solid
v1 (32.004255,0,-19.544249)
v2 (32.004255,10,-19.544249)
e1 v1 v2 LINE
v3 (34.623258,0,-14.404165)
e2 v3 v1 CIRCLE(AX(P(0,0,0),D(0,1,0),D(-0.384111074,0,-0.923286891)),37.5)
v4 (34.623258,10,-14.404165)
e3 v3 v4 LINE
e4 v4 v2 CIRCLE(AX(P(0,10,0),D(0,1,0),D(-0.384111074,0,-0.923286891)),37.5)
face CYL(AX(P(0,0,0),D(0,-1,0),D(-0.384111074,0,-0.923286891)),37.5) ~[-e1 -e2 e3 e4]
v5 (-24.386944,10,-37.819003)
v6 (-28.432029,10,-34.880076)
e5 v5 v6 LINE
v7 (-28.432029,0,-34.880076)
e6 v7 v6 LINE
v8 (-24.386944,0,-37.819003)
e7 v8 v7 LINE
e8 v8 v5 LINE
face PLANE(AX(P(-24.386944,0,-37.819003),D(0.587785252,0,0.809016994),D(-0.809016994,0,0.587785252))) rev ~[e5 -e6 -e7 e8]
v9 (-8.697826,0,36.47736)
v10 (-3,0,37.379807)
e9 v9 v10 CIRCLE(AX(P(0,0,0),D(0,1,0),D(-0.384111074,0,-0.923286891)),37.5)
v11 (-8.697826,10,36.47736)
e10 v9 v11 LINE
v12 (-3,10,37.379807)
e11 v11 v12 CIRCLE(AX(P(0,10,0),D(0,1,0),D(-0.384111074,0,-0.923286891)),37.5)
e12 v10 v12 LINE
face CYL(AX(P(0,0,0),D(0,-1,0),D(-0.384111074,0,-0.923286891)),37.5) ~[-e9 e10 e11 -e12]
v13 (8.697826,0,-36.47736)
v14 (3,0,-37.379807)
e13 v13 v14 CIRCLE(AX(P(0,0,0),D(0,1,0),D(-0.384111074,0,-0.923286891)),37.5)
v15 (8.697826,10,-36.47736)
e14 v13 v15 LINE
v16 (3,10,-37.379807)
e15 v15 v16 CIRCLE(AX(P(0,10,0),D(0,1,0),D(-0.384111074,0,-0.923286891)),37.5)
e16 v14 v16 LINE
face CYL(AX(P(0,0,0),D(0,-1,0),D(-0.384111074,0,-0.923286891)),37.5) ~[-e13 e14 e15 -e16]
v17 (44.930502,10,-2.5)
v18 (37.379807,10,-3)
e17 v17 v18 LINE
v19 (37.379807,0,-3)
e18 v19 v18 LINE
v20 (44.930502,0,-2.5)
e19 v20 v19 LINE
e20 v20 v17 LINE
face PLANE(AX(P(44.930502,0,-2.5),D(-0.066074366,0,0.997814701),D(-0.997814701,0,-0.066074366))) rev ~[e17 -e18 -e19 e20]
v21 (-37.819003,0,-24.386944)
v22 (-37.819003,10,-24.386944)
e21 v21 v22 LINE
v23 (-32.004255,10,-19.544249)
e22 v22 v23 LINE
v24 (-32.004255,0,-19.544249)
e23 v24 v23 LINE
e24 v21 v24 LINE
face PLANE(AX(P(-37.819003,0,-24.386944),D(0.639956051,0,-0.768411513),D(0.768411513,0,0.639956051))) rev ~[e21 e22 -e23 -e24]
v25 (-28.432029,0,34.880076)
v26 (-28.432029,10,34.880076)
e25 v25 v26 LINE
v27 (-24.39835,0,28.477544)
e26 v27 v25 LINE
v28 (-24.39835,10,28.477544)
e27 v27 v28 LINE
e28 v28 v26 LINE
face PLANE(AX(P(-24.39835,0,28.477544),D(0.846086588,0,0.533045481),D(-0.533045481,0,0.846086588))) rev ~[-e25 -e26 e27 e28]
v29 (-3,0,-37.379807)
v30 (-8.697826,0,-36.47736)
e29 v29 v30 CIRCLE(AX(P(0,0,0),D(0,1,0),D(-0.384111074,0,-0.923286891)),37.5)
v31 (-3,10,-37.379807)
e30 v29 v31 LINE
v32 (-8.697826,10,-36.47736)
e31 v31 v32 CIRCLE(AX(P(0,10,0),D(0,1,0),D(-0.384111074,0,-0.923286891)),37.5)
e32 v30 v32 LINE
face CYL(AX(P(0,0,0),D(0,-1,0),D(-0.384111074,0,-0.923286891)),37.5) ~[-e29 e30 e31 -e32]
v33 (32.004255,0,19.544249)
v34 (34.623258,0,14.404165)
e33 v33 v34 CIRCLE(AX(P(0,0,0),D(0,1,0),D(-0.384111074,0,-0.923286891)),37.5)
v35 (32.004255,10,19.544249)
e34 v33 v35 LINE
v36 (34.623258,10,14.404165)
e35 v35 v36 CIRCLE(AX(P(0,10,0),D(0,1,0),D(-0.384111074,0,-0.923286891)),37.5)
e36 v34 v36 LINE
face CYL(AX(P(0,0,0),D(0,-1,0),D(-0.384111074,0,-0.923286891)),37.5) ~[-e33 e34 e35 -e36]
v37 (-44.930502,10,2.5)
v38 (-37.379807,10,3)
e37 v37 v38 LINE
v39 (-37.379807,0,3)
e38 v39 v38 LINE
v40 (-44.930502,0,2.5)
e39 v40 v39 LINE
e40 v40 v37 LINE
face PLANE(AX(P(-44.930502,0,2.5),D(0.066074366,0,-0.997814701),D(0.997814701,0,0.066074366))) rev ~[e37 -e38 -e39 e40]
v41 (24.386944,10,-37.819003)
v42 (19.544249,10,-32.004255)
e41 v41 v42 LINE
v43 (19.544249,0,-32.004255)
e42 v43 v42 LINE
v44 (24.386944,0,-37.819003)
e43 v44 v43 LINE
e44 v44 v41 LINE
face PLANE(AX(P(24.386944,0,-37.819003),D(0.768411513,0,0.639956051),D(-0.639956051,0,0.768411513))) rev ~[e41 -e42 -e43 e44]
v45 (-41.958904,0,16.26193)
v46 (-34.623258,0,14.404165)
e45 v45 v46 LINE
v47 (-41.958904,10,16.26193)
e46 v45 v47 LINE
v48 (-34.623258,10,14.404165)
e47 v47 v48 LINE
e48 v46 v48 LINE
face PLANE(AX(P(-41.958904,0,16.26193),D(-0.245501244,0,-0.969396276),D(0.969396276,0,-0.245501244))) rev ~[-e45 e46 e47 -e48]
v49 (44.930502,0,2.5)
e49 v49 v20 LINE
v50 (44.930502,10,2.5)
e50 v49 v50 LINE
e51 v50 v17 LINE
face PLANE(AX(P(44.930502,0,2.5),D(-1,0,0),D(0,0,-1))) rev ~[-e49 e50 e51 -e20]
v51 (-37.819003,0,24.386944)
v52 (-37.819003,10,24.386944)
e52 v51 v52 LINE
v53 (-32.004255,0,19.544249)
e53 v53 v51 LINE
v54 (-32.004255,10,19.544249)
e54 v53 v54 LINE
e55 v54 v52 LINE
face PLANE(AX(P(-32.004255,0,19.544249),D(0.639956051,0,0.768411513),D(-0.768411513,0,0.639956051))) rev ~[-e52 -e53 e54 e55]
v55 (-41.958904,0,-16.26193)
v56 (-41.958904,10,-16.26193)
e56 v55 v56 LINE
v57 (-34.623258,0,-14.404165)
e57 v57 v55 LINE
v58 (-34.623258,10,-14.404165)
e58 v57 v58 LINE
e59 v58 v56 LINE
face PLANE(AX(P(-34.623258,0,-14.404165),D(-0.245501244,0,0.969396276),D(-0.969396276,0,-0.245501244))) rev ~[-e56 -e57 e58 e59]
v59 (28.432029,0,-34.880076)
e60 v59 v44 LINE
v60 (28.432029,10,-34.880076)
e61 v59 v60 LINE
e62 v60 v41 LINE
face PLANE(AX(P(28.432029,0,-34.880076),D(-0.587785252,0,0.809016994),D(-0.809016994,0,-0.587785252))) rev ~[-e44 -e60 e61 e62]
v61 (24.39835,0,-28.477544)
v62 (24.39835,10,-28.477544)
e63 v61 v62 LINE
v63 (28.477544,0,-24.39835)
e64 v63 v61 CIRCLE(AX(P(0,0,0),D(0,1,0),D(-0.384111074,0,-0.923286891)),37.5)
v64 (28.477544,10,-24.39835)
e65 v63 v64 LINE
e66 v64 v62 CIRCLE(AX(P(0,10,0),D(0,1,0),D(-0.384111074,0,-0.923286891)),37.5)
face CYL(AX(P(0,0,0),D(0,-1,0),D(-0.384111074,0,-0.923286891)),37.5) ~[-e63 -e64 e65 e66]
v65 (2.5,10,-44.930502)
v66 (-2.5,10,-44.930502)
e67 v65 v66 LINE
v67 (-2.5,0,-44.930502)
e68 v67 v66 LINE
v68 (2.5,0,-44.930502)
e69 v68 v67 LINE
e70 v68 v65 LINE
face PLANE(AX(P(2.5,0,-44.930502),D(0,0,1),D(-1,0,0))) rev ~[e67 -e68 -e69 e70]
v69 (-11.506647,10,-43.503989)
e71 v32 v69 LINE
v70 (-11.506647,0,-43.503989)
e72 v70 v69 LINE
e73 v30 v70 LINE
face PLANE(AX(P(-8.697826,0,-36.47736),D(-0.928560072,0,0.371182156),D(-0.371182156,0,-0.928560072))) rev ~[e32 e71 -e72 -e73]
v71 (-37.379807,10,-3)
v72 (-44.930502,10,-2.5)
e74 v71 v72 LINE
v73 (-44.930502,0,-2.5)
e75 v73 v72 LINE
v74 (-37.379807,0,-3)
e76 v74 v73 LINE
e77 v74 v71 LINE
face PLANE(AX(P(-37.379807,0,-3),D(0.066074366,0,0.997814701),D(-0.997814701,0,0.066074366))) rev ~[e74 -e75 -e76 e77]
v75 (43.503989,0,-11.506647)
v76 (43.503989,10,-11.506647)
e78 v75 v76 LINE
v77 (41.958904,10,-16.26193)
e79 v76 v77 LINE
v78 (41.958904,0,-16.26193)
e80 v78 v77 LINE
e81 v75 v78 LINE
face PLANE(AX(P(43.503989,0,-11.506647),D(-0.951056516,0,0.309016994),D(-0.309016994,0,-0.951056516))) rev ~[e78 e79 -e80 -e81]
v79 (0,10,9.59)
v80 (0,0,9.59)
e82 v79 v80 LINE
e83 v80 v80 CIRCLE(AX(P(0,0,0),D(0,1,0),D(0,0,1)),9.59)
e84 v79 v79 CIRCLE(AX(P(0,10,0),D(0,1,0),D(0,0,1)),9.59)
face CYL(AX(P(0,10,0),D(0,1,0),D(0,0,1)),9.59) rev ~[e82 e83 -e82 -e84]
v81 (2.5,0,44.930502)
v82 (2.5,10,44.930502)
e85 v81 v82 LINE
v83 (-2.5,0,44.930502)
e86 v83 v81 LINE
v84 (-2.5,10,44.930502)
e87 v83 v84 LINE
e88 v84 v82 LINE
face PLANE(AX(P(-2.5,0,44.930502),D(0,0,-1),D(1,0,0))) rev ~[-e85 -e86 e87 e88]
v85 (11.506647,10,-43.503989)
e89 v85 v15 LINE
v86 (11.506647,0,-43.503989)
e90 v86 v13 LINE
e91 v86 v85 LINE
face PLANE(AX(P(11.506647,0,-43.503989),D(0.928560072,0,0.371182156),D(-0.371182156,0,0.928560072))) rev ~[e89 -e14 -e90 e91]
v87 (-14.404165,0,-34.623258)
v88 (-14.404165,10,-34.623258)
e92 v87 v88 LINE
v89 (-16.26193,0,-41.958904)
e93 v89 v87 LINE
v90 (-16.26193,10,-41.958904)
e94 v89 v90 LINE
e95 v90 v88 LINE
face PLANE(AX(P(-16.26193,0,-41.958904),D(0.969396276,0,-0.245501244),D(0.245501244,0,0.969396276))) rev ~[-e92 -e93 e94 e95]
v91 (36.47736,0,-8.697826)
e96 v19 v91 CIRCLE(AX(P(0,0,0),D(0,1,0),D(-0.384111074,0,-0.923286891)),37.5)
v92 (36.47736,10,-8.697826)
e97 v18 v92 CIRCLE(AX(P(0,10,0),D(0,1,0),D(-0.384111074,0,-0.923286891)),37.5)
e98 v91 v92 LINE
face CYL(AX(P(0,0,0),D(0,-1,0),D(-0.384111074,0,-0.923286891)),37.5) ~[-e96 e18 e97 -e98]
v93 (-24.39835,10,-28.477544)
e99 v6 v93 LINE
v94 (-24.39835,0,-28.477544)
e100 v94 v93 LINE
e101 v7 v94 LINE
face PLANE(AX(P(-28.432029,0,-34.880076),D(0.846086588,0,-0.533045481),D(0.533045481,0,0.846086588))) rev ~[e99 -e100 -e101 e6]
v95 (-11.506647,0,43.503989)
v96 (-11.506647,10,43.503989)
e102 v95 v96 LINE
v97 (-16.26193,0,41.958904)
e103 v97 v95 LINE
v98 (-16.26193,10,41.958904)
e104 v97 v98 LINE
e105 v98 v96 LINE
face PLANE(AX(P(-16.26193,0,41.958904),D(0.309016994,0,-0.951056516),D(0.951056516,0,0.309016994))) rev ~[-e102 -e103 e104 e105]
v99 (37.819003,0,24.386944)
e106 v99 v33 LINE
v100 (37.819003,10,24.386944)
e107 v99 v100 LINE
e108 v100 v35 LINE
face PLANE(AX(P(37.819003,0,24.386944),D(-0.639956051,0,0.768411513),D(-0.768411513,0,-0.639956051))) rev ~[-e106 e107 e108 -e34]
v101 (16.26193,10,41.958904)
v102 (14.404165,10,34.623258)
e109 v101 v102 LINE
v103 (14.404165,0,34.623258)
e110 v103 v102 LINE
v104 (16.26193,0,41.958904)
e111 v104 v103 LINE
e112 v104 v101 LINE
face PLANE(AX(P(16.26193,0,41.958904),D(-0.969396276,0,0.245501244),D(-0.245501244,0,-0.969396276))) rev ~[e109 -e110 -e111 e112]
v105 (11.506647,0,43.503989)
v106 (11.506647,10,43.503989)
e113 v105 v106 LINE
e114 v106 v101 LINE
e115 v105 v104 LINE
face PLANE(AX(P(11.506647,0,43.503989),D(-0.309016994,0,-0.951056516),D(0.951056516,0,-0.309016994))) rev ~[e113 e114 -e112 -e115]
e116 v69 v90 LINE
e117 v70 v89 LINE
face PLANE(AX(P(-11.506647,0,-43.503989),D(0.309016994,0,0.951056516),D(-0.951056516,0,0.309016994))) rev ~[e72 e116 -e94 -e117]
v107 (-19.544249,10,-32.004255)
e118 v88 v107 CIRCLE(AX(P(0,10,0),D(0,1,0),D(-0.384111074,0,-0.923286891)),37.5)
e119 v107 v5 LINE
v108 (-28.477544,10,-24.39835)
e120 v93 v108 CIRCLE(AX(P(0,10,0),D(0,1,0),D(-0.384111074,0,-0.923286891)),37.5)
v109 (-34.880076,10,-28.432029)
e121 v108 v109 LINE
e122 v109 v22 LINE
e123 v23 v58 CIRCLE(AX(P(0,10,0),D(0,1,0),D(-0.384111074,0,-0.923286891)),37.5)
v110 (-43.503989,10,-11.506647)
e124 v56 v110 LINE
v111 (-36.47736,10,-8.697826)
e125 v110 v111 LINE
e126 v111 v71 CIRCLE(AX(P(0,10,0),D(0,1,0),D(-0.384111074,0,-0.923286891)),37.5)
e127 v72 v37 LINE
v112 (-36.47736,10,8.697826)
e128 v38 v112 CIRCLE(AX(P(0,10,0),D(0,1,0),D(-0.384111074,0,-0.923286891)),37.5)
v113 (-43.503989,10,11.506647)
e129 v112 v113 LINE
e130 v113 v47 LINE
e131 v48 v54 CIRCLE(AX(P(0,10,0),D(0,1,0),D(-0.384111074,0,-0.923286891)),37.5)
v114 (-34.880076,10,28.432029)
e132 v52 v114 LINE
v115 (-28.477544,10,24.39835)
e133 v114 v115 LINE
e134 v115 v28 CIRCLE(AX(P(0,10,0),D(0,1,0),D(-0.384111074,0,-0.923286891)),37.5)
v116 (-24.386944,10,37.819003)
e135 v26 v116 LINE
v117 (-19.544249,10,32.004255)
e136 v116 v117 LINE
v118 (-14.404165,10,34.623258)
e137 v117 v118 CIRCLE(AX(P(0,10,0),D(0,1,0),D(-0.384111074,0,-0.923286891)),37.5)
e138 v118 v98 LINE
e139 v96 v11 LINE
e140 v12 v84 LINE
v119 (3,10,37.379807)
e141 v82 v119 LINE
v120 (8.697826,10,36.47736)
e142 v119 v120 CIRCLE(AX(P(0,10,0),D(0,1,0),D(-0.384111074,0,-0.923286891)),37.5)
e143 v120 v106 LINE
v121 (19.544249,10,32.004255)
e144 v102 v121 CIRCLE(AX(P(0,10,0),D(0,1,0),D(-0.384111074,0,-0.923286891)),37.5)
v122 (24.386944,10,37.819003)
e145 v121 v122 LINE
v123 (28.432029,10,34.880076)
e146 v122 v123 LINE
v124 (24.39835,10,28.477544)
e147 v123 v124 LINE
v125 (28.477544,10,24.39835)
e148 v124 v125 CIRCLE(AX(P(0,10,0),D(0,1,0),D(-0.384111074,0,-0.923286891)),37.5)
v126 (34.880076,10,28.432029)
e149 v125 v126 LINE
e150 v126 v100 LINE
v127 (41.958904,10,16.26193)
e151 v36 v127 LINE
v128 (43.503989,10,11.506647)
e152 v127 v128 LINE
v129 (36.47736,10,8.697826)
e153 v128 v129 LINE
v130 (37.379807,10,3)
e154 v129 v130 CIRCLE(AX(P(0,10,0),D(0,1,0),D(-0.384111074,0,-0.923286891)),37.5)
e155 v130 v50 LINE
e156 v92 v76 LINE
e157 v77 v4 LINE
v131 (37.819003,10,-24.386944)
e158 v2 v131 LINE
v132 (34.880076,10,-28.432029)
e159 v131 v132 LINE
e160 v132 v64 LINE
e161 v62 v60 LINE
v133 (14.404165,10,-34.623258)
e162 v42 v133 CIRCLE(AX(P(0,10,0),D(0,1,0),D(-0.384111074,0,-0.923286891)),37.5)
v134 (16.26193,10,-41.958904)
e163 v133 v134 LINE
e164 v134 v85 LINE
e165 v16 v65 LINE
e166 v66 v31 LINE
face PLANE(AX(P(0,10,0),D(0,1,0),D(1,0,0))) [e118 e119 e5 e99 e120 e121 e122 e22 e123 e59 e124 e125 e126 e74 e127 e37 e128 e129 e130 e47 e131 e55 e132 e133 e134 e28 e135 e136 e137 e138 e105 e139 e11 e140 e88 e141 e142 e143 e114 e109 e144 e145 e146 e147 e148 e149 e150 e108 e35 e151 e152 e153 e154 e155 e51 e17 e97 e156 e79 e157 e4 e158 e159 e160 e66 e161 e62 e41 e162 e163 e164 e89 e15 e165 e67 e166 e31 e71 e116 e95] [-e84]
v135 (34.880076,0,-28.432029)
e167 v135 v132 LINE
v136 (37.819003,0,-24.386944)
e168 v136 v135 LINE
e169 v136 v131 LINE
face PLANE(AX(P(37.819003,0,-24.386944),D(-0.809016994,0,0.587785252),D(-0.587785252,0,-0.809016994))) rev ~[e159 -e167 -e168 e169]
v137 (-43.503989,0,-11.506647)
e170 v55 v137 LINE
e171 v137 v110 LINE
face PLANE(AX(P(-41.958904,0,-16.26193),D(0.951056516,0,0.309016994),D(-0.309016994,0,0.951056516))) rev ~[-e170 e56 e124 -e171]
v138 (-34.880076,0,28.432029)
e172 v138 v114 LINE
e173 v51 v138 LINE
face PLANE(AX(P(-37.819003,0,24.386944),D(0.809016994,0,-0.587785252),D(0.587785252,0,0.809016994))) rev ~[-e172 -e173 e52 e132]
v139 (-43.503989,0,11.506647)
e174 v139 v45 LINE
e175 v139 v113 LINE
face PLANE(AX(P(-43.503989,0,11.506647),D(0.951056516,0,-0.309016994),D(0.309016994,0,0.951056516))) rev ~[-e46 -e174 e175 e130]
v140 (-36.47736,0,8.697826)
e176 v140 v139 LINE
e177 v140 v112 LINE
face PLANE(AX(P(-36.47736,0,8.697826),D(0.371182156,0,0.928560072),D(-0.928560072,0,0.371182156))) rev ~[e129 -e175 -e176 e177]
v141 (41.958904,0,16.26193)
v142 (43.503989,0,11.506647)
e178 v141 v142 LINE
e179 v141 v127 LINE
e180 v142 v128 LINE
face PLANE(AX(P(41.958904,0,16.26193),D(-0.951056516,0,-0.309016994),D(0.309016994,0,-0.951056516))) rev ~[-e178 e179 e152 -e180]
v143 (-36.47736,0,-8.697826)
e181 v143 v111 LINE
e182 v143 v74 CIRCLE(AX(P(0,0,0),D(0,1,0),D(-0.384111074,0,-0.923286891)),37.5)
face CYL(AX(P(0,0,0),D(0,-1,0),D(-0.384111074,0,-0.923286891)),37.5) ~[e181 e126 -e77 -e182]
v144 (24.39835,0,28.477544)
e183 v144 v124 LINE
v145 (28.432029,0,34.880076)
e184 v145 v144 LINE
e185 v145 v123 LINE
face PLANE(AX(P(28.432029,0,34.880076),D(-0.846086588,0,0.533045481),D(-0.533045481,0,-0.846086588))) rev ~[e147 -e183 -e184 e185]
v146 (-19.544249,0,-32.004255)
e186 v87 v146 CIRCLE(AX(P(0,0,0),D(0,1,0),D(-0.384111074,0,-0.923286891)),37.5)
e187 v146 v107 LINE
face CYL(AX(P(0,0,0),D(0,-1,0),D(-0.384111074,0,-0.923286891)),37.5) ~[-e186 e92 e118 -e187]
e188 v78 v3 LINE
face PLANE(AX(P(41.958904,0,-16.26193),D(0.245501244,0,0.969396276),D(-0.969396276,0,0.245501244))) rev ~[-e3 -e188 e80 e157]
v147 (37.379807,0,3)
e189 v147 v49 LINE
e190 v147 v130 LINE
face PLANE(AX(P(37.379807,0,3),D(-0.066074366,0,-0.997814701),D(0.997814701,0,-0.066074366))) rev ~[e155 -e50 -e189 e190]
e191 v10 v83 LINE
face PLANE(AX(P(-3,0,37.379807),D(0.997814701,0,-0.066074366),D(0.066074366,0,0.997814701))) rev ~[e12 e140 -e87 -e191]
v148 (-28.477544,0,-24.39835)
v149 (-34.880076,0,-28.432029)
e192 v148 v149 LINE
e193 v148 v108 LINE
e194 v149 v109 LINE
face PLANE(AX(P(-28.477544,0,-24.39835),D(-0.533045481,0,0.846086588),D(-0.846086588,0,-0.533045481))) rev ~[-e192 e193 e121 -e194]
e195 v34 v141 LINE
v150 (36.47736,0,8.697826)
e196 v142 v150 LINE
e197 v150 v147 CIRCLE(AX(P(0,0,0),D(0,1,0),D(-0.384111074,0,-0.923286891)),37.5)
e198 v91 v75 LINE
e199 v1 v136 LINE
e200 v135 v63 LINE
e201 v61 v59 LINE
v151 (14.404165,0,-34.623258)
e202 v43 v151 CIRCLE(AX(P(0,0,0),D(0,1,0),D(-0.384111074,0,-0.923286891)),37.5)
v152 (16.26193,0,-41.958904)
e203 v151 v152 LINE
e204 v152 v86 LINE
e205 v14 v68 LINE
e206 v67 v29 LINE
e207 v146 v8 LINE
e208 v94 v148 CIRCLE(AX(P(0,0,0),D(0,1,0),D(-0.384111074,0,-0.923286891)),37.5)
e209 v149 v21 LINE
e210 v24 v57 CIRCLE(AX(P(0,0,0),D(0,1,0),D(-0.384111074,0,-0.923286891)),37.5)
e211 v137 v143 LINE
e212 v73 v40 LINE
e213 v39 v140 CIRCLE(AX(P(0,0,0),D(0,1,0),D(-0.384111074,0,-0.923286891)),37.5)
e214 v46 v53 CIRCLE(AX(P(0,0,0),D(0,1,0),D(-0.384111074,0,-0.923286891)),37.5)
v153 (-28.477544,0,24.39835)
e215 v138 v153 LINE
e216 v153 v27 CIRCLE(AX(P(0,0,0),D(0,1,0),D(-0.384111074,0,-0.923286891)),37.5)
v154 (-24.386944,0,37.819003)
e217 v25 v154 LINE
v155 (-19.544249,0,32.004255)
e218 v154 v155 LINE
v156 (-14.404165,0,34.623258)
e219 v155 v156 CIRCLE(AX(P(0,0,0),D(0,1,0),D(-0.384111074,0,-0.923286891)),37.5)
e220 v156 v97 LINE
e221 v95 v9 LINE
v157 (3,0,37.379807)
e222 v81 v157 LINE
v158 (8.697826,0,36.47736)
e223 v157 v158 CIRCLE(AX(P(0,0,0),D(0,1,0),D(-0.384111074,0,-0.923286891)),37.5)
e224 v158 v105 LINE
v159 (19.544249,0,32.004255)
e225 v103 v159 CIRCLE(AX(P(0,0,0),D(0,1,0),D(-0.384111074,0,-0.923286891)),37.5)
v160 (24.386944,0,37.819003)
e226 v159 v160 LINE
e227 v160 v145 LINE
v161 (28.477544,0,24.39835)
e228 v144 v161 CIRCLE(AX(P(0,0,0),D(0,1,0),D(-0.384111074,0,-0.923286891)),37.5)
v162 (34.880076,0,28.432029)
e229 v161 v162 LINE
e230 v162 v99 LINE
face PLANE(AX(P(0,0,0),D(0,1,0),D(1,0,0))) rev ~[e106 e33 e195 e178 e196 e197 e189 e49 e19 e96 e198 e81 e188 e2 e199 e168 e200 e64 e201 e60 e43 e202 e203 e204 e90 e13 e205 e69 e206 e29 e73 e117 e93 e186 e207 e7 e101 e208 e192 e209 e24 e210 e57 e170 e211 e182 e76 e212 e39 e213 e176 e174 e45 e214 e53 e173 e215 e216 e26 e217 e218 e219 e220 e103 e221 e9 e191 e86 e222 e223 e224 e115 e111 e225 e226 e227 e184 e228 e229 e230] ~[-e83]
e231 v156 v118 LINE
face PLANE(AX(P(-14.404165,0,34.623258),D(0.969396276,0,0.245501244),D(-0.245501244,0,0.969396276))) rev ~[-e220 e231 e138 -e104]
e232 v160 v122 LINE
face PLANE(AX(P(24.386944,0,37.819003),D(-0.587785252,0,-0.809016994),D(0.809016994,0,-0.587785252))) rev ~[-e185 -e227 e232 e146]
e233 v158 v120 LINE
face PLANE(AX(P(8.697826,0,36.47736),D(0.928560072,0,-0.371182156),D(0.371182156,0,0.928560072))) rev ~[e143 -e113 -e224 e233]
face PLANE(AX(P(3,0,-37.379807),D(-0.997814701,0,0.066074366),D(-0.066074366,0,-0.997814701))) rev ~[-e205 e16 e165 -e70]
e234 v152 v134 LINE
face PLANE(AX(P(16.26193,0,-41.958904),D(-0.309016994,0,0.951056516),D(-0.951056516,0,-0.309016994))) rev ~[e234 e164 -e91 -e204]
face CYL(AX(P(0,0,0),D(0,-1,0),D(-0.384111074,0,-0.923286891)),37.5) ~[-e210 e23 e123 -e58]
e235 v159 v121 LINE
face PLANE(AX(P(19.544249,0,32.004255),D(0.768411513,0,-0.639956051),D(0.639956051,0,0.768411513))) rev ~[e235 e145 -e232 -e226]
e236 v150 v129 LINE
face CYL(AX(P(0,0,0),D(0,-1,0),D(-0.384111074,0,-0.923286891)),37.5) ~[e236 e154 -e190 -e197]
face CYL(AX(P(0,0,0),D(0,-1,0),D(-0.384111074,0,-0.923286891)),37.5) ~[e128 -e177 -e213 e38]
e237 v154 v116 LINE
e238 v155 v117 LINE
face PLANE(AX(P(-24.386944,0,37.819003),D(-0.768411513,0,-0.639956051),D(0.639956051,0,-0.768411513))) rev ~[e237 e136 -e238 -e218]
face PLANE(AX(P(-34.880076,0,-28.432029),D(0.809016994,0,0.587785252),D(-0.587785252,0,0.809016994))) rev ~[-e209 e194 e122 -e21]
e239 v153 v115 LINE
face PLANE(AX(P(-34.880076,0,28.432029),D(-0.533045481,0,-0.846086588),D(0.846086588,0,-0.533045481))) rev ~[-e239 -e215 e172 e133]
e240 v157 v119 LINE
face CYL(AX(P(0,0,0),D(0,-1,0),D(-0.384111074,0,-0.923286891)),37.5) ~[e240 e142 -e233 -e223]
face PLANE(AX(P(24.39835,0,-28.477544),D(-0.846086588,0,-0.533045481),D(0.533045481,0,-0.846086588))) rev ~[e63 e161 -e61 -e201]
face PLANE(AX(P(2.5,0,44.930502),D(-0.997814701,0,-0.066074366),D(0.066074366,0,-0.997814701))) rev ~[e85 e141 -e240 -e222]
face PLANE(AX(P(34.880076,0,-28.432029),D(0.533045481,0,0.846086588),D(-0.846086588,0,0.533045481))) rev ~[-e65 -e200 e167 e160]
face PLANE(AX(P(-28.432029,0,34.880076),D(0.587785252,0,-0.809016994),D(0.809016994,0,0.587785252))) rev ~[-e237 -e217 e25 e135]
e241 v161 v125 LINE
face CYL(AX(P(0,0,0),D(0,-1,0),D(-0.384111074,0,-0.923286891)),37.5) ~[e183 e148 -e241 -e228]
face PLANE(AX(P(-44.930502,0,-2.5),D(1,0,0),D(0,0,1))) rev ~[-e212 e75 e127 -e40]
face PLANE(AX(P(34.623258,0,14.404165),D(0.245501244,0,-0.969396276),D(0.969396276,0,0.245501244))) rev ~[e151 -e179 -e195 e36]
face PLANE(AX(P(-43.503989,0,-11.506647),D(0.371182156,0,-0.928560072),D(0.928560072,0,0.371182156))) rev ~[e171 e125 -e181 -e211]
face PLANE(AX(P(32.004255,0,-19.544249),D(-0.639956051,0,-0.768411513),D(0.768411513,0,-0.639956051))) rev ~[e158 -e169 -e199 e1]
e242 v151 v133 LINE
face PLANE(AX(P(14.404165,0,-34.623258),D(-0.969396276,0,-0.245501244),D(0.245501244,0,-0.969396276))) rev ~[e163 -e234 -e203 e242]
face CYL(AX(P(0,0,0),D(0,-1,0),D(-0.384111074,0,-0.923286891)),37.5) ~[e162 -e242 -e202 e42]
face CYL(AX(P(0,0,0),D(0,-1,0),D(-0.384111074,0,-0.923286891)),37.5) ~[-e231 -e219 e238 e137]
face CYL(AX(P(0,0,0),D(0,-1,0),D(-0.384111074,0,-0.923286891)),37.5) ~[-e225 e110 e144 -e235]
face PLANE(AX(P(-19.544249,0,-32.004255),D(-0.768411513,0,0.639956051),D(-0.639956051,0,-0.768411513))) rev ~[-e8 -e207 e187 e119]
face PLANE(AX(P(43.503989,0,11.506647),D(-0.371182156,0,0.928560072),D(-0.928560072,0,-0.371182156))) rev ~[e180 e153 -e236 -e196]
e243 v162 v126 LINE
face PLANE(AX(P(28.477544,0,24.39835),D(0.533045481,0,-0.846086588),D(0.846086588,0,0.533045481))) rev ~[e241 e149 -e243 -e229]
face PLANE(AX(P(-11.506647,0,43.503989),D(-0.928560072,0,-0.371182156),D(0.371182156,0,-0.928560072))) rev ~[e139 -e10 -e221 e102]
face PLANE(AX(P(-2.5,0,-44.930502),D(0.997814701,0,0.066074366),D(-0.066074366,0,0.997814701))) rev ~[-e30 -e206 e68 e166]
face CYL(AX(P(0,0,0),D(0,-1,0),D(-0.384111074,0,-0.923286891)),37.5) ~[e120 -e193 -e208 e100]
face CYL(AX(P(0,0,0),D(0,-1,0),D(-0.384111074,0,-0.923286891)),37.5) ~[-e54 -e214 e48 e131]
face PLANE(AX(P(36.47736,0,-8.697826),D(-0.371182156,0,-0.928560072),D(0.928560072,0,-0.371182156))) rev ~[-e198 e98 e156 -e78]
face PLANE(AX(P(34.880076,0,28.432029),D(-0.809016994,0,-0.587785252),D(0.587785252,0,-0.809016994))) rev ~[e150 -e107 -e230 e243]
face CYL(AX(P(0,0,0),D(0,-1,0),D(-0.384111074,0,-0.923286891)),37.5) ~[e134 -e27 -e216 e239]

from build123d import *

# Parameters (mm, degrees)
SKETCH1_R           = 37.5
BOSS_EXTRUDE1_DEPTH = 10
SKETCH2_R           = 9.59
CUT_EXTRUDE1_DEPTH  = 10


with BuildPart() as part:
    # Sketch1 → Boss-Extrude1 (new body)
    with BuildSketch(Plane(origin=(0, 0, 0), x_dir=(1, 0, 0), z_dir=(0, 1, 0))):
        Circle(SKETCH1_R)
        with BuildLine():
            ThreePointArc((-14.404165277, 34.623258406), (-11.588137289, 35.664619361), (-8.697826179, 36.477360373))
            Line((-8.697826179, 36.477360373), (-11.506647359, 43.503989088))
            Line((-11.506647359, 43.503989088), (-16.26192994, 41.958904116))
            Line((-16.26192994, 41.958904116), (-14.404165277, 34.623258406))
        make_face()
        with BuildLine():
            ThreePointArc((-24.398350496, 28.477543663), (-22.041946961, 30.338137289), (-19.54424853, 32.004255176))
            Line((-19.54424853, 32.004255176), (-24.386943903, 37.819002725))
            Line((-24.386943903, 37.819002725), (-28.432028874, 34.880076463))
            Line((-28.432028874, 34.880076463), (-24.398350496, 28.477543663))
        make_face()
        with BuildLine():
            ThreePointArc((-32.004255176, 19.54424853), (-30.338137289, 22.041946961), (-28.477543663, 24.398350496))
            Line((-28.477543663, 24.398350496), (-34.880076463, 28.432028874))
            Line((-34.880076463, 28.432028874), (-37.819002725, 24.386943903))
            Line((-37.819002725, 24.386943903), (-32.004255176, 19.54424853))
        make_face()
        with BuildLine():
            ThreePointArc((-36.477360373, 8.697826179), (-35.664619361, 11.588137289), (-34.623258406, 14.404165277))
            Line((-34.623258406, 14.404165277), (-41.958904116, 16.26192994))
            Line((-41.958904116, 16.26192994), (-43.503989088, 11.506647359))
            Line((-43.503989088, 11.506647359), (-36.477360373, 8.697826179))
        make_face()
        with BuildLine():
            ThreePointArc((-37.379807383, -3), (-37.5, 0), (-37.379807383, 3))
            Line((-37.379807383, 3), (-44.930501889, 2.5))
            Line((-44.930501889, 2.5), (-44.930501889, -2.5))
            Line((-44.930501889, -2.5), (-37.379807383, -3))
        make_face()
        with BuildLine():
            ThreePointArc((-34.623258406, -14.404165277), (-35.664619361, -11.588137289), (-36.477360373, -8.697826179))
            Line((-36.477360373, -8.697826179), (-43.503989088, -11.506647359))
            Line((-43.503989088, -11.506647359), (-41.958904116, -16.26192994))
            Line((-41.958904116, -16.26192994), (-34.623258406, -14.404165277))
        make_face()
        with BuildLine():
            ThreePointArc((-28.477543663, -24.398350496), (-30.338137289, -22.041946961), (-32.004255176, -19.54424853))
            Line((-32.004255176, -19.54424853), (-37.819002725, -24.386943903))
            Line((-37.819002725, -24.386943903), (-34.880076463, -28.432028874))
            Line((-34.880076463, -28.432028874), (-28.477543663, -24.398350496))
        make_face()
        with BuildLine():
            ThreePointArc((-19.54424853, -32.004255176), (-22.041946961, -30.338137289), (-24.398350496, -28.477543663))
            Line((-24.398350496, -28.477543663), (-28.432028874, -34.880076463))
            Line((-28.432028874, -34.880076463), (-24.386943903, -37.819002725))
            Line((-24.386943903, -37.819002725), (-19.54424853, -32.004255176))
        make_face()
        with BuildLine():
            ThreePointArc((-8.697826179, -36.477360373), (-11.588137289, -35.664619361), (-14.404165277, -34.623258406))
            Line((-14.404165277, -34.623258406), (-16.26192994, -41.958904116))
            Line((-16.26192994, -41.958904116), (-11.506647359, -43.503989088))
            Line((-11.506647359, -43.503989088), (-8.697826179, -36.477360373))
        make_face()
        with BuildLine():
            ThreePointArc((3, -37.379807383), (0, -37.5), (-3, -37.379807383))
            Line((-3, -37.379807383), (-2.5, -44.930501889))
            Line((-2.5, -44.930501889), (2.5, -44.930501889))
            Line((2.5, -44.930501889), (3, -37.379807383))
        make_face()
        with BuildLine():
            Line((11.506647359, -43.503989088), (16.26192994, -41.958904116))
            Line((16.26192994, -41.958904116), (14.404165277, -34.623258406))
            ThreePointArc((14.404165277, -34.623258406), (11.588137289, -35.664619361), (8.697826179, -36.477360373))
            Line((8.697826179, -36.477360373), (11.506647359, -43.503989088))
        make_face()
        with BuildLine():
            Line((24.386943903, -37.819002725), (28.432028874, -34.880076463))
            Line((28.432028874, -34.880076463), (24.398350496, -28.477543663))
            ThreePointArc((24.398350496, -28.477543663), (22.041946961, -30.338137289), (19.54424853, -32.004255176))
            Line((19.54424853, -32.004255176), (24.386943903, -37.819002725))
        make_face()
        with BuildLine():
            Line((34.880076463, -28.432028874), (37.819002725, -24.386943903))
            Line((37.819002725, -24.386943903), (32.004255176, -19.54424853))
            ThreePointArc((32.004255176, -19.54424853), (30.338137289, -22.041946961), (28.477543663, -24.398350496))
            Line((28.477543663, -24.398350496), (34.880076463, -28.432028874))
        make_face()
        with BuildLine():
            Line((41.958904116, -16.26192994), (43.503989088, -11.506647359))
            Line((43.503989088, -11.506647359), (36.477360373, -8.697826179))
            ThreePointArc((36.477360373, -8.697826179), (35.664619361, -11.588137289), (34.623258406, -14.404165277))
            Line((34.623258406, -14.404165277), (41.958904116, -16.26192994))
        make_face()
        with BuildLine():
            Line((44.930501889, 2.5), (37.379807383, 3))
            ThreePointArc((37.379807383, 3), (37.469939798, 1.501203373), (37.5, 0))
            ThreePointArc((37.5, 0), (37.469939798, -1.501203373), (37.379807383, -3))
            Line((37.379807383, -3), (44.930501889, -2.5))
            Line((44.930501889, -2.5), (44.930501889, 2.5))
        make_face()
        with BuildLine():
            Line((41.958904116, 16.26192994), (34.623258406, 14.404165277))
            ThreePointArc((34.623258406, 14.404165277), (35.664619361, 11.588137289), (36.477360373, 8.697826179))
            Line((36.477360373, 8.697826179), (43.503989088, 11.506647359))
            Line((43.503989088, 11.506647359), (41.958904116, 16.26192994))
        make_face()
        with BuildLine():
            Line((34.880076463, 28.432028874), (28.477543663, 24.398350496))
            ThreePointArc((28.477543663, 24.398350496), (30.338137289, 22.041946961), (32.004255176, 19.54424853))
            Line((32.004255176, 19.54424853), (37.819002725, 24.386943903))
            Line((37.819002725, 24.386943903), (34.880076463, 28.432028874))
        make_face()
        with BuildLine():
            Line((24.386943903, 37.819002725), (19.54424853, 32.004255176))
            ThreePointArc((19.54424853, 32.004255176), (22.041946961, 30.338137289), (24.398350496, 28.477543663))
            Line((24.398350496, 28.477543663), (28.432028874, 34.880076463))
            Line((28.432028874, 34.880076463), (24.386943903, 37.819002725))
        make_face()
        with BuildLine():
            Line((11.506647359, 43.503989088), (8.697826179, 36.477360373))
            ThreePointArc((8.697826179, 36.477360373), (11.588137289, 35.664619361), (14.404165277, 34.623258406))
            Line((14.404165277, 34.623258406), (16.26192994, 41.958904116))
            Line((16.26192994, 41.958904116), (11.506647359, 43.503989088))
        make_face()
        with BuildLine():
            Line((-2.5, 44.930501889), (-3, 37.379807383))
            ThreePointArc((-3, 37.379807383), (0, 37.5), (3, 37.379807383))
            Line((3, 37.379807383), (2.5, 44.930501889))
            Line((2.5, 44.930501889), (-2.5, 44.930501889))
        make_face()
    extrude(amount=BOSS_EXTRUDE1_DEPTH)

    # Sketch2 → Cut-Extrude1 (cut)
    with BuildSketch(Plane(origin=(0, 10, 0), x_dir=(1, 0, 0), z_dir=(0, 1, 0))):
        with Locations(Location((0, 0, 0), (0, 0, 270))):
            Circle(SKETCH2_R)
    extrude(amount=-CUT_EXTRUDE1_DEPTH, mode=Mode.SUBTRACT)


solid = part.part
